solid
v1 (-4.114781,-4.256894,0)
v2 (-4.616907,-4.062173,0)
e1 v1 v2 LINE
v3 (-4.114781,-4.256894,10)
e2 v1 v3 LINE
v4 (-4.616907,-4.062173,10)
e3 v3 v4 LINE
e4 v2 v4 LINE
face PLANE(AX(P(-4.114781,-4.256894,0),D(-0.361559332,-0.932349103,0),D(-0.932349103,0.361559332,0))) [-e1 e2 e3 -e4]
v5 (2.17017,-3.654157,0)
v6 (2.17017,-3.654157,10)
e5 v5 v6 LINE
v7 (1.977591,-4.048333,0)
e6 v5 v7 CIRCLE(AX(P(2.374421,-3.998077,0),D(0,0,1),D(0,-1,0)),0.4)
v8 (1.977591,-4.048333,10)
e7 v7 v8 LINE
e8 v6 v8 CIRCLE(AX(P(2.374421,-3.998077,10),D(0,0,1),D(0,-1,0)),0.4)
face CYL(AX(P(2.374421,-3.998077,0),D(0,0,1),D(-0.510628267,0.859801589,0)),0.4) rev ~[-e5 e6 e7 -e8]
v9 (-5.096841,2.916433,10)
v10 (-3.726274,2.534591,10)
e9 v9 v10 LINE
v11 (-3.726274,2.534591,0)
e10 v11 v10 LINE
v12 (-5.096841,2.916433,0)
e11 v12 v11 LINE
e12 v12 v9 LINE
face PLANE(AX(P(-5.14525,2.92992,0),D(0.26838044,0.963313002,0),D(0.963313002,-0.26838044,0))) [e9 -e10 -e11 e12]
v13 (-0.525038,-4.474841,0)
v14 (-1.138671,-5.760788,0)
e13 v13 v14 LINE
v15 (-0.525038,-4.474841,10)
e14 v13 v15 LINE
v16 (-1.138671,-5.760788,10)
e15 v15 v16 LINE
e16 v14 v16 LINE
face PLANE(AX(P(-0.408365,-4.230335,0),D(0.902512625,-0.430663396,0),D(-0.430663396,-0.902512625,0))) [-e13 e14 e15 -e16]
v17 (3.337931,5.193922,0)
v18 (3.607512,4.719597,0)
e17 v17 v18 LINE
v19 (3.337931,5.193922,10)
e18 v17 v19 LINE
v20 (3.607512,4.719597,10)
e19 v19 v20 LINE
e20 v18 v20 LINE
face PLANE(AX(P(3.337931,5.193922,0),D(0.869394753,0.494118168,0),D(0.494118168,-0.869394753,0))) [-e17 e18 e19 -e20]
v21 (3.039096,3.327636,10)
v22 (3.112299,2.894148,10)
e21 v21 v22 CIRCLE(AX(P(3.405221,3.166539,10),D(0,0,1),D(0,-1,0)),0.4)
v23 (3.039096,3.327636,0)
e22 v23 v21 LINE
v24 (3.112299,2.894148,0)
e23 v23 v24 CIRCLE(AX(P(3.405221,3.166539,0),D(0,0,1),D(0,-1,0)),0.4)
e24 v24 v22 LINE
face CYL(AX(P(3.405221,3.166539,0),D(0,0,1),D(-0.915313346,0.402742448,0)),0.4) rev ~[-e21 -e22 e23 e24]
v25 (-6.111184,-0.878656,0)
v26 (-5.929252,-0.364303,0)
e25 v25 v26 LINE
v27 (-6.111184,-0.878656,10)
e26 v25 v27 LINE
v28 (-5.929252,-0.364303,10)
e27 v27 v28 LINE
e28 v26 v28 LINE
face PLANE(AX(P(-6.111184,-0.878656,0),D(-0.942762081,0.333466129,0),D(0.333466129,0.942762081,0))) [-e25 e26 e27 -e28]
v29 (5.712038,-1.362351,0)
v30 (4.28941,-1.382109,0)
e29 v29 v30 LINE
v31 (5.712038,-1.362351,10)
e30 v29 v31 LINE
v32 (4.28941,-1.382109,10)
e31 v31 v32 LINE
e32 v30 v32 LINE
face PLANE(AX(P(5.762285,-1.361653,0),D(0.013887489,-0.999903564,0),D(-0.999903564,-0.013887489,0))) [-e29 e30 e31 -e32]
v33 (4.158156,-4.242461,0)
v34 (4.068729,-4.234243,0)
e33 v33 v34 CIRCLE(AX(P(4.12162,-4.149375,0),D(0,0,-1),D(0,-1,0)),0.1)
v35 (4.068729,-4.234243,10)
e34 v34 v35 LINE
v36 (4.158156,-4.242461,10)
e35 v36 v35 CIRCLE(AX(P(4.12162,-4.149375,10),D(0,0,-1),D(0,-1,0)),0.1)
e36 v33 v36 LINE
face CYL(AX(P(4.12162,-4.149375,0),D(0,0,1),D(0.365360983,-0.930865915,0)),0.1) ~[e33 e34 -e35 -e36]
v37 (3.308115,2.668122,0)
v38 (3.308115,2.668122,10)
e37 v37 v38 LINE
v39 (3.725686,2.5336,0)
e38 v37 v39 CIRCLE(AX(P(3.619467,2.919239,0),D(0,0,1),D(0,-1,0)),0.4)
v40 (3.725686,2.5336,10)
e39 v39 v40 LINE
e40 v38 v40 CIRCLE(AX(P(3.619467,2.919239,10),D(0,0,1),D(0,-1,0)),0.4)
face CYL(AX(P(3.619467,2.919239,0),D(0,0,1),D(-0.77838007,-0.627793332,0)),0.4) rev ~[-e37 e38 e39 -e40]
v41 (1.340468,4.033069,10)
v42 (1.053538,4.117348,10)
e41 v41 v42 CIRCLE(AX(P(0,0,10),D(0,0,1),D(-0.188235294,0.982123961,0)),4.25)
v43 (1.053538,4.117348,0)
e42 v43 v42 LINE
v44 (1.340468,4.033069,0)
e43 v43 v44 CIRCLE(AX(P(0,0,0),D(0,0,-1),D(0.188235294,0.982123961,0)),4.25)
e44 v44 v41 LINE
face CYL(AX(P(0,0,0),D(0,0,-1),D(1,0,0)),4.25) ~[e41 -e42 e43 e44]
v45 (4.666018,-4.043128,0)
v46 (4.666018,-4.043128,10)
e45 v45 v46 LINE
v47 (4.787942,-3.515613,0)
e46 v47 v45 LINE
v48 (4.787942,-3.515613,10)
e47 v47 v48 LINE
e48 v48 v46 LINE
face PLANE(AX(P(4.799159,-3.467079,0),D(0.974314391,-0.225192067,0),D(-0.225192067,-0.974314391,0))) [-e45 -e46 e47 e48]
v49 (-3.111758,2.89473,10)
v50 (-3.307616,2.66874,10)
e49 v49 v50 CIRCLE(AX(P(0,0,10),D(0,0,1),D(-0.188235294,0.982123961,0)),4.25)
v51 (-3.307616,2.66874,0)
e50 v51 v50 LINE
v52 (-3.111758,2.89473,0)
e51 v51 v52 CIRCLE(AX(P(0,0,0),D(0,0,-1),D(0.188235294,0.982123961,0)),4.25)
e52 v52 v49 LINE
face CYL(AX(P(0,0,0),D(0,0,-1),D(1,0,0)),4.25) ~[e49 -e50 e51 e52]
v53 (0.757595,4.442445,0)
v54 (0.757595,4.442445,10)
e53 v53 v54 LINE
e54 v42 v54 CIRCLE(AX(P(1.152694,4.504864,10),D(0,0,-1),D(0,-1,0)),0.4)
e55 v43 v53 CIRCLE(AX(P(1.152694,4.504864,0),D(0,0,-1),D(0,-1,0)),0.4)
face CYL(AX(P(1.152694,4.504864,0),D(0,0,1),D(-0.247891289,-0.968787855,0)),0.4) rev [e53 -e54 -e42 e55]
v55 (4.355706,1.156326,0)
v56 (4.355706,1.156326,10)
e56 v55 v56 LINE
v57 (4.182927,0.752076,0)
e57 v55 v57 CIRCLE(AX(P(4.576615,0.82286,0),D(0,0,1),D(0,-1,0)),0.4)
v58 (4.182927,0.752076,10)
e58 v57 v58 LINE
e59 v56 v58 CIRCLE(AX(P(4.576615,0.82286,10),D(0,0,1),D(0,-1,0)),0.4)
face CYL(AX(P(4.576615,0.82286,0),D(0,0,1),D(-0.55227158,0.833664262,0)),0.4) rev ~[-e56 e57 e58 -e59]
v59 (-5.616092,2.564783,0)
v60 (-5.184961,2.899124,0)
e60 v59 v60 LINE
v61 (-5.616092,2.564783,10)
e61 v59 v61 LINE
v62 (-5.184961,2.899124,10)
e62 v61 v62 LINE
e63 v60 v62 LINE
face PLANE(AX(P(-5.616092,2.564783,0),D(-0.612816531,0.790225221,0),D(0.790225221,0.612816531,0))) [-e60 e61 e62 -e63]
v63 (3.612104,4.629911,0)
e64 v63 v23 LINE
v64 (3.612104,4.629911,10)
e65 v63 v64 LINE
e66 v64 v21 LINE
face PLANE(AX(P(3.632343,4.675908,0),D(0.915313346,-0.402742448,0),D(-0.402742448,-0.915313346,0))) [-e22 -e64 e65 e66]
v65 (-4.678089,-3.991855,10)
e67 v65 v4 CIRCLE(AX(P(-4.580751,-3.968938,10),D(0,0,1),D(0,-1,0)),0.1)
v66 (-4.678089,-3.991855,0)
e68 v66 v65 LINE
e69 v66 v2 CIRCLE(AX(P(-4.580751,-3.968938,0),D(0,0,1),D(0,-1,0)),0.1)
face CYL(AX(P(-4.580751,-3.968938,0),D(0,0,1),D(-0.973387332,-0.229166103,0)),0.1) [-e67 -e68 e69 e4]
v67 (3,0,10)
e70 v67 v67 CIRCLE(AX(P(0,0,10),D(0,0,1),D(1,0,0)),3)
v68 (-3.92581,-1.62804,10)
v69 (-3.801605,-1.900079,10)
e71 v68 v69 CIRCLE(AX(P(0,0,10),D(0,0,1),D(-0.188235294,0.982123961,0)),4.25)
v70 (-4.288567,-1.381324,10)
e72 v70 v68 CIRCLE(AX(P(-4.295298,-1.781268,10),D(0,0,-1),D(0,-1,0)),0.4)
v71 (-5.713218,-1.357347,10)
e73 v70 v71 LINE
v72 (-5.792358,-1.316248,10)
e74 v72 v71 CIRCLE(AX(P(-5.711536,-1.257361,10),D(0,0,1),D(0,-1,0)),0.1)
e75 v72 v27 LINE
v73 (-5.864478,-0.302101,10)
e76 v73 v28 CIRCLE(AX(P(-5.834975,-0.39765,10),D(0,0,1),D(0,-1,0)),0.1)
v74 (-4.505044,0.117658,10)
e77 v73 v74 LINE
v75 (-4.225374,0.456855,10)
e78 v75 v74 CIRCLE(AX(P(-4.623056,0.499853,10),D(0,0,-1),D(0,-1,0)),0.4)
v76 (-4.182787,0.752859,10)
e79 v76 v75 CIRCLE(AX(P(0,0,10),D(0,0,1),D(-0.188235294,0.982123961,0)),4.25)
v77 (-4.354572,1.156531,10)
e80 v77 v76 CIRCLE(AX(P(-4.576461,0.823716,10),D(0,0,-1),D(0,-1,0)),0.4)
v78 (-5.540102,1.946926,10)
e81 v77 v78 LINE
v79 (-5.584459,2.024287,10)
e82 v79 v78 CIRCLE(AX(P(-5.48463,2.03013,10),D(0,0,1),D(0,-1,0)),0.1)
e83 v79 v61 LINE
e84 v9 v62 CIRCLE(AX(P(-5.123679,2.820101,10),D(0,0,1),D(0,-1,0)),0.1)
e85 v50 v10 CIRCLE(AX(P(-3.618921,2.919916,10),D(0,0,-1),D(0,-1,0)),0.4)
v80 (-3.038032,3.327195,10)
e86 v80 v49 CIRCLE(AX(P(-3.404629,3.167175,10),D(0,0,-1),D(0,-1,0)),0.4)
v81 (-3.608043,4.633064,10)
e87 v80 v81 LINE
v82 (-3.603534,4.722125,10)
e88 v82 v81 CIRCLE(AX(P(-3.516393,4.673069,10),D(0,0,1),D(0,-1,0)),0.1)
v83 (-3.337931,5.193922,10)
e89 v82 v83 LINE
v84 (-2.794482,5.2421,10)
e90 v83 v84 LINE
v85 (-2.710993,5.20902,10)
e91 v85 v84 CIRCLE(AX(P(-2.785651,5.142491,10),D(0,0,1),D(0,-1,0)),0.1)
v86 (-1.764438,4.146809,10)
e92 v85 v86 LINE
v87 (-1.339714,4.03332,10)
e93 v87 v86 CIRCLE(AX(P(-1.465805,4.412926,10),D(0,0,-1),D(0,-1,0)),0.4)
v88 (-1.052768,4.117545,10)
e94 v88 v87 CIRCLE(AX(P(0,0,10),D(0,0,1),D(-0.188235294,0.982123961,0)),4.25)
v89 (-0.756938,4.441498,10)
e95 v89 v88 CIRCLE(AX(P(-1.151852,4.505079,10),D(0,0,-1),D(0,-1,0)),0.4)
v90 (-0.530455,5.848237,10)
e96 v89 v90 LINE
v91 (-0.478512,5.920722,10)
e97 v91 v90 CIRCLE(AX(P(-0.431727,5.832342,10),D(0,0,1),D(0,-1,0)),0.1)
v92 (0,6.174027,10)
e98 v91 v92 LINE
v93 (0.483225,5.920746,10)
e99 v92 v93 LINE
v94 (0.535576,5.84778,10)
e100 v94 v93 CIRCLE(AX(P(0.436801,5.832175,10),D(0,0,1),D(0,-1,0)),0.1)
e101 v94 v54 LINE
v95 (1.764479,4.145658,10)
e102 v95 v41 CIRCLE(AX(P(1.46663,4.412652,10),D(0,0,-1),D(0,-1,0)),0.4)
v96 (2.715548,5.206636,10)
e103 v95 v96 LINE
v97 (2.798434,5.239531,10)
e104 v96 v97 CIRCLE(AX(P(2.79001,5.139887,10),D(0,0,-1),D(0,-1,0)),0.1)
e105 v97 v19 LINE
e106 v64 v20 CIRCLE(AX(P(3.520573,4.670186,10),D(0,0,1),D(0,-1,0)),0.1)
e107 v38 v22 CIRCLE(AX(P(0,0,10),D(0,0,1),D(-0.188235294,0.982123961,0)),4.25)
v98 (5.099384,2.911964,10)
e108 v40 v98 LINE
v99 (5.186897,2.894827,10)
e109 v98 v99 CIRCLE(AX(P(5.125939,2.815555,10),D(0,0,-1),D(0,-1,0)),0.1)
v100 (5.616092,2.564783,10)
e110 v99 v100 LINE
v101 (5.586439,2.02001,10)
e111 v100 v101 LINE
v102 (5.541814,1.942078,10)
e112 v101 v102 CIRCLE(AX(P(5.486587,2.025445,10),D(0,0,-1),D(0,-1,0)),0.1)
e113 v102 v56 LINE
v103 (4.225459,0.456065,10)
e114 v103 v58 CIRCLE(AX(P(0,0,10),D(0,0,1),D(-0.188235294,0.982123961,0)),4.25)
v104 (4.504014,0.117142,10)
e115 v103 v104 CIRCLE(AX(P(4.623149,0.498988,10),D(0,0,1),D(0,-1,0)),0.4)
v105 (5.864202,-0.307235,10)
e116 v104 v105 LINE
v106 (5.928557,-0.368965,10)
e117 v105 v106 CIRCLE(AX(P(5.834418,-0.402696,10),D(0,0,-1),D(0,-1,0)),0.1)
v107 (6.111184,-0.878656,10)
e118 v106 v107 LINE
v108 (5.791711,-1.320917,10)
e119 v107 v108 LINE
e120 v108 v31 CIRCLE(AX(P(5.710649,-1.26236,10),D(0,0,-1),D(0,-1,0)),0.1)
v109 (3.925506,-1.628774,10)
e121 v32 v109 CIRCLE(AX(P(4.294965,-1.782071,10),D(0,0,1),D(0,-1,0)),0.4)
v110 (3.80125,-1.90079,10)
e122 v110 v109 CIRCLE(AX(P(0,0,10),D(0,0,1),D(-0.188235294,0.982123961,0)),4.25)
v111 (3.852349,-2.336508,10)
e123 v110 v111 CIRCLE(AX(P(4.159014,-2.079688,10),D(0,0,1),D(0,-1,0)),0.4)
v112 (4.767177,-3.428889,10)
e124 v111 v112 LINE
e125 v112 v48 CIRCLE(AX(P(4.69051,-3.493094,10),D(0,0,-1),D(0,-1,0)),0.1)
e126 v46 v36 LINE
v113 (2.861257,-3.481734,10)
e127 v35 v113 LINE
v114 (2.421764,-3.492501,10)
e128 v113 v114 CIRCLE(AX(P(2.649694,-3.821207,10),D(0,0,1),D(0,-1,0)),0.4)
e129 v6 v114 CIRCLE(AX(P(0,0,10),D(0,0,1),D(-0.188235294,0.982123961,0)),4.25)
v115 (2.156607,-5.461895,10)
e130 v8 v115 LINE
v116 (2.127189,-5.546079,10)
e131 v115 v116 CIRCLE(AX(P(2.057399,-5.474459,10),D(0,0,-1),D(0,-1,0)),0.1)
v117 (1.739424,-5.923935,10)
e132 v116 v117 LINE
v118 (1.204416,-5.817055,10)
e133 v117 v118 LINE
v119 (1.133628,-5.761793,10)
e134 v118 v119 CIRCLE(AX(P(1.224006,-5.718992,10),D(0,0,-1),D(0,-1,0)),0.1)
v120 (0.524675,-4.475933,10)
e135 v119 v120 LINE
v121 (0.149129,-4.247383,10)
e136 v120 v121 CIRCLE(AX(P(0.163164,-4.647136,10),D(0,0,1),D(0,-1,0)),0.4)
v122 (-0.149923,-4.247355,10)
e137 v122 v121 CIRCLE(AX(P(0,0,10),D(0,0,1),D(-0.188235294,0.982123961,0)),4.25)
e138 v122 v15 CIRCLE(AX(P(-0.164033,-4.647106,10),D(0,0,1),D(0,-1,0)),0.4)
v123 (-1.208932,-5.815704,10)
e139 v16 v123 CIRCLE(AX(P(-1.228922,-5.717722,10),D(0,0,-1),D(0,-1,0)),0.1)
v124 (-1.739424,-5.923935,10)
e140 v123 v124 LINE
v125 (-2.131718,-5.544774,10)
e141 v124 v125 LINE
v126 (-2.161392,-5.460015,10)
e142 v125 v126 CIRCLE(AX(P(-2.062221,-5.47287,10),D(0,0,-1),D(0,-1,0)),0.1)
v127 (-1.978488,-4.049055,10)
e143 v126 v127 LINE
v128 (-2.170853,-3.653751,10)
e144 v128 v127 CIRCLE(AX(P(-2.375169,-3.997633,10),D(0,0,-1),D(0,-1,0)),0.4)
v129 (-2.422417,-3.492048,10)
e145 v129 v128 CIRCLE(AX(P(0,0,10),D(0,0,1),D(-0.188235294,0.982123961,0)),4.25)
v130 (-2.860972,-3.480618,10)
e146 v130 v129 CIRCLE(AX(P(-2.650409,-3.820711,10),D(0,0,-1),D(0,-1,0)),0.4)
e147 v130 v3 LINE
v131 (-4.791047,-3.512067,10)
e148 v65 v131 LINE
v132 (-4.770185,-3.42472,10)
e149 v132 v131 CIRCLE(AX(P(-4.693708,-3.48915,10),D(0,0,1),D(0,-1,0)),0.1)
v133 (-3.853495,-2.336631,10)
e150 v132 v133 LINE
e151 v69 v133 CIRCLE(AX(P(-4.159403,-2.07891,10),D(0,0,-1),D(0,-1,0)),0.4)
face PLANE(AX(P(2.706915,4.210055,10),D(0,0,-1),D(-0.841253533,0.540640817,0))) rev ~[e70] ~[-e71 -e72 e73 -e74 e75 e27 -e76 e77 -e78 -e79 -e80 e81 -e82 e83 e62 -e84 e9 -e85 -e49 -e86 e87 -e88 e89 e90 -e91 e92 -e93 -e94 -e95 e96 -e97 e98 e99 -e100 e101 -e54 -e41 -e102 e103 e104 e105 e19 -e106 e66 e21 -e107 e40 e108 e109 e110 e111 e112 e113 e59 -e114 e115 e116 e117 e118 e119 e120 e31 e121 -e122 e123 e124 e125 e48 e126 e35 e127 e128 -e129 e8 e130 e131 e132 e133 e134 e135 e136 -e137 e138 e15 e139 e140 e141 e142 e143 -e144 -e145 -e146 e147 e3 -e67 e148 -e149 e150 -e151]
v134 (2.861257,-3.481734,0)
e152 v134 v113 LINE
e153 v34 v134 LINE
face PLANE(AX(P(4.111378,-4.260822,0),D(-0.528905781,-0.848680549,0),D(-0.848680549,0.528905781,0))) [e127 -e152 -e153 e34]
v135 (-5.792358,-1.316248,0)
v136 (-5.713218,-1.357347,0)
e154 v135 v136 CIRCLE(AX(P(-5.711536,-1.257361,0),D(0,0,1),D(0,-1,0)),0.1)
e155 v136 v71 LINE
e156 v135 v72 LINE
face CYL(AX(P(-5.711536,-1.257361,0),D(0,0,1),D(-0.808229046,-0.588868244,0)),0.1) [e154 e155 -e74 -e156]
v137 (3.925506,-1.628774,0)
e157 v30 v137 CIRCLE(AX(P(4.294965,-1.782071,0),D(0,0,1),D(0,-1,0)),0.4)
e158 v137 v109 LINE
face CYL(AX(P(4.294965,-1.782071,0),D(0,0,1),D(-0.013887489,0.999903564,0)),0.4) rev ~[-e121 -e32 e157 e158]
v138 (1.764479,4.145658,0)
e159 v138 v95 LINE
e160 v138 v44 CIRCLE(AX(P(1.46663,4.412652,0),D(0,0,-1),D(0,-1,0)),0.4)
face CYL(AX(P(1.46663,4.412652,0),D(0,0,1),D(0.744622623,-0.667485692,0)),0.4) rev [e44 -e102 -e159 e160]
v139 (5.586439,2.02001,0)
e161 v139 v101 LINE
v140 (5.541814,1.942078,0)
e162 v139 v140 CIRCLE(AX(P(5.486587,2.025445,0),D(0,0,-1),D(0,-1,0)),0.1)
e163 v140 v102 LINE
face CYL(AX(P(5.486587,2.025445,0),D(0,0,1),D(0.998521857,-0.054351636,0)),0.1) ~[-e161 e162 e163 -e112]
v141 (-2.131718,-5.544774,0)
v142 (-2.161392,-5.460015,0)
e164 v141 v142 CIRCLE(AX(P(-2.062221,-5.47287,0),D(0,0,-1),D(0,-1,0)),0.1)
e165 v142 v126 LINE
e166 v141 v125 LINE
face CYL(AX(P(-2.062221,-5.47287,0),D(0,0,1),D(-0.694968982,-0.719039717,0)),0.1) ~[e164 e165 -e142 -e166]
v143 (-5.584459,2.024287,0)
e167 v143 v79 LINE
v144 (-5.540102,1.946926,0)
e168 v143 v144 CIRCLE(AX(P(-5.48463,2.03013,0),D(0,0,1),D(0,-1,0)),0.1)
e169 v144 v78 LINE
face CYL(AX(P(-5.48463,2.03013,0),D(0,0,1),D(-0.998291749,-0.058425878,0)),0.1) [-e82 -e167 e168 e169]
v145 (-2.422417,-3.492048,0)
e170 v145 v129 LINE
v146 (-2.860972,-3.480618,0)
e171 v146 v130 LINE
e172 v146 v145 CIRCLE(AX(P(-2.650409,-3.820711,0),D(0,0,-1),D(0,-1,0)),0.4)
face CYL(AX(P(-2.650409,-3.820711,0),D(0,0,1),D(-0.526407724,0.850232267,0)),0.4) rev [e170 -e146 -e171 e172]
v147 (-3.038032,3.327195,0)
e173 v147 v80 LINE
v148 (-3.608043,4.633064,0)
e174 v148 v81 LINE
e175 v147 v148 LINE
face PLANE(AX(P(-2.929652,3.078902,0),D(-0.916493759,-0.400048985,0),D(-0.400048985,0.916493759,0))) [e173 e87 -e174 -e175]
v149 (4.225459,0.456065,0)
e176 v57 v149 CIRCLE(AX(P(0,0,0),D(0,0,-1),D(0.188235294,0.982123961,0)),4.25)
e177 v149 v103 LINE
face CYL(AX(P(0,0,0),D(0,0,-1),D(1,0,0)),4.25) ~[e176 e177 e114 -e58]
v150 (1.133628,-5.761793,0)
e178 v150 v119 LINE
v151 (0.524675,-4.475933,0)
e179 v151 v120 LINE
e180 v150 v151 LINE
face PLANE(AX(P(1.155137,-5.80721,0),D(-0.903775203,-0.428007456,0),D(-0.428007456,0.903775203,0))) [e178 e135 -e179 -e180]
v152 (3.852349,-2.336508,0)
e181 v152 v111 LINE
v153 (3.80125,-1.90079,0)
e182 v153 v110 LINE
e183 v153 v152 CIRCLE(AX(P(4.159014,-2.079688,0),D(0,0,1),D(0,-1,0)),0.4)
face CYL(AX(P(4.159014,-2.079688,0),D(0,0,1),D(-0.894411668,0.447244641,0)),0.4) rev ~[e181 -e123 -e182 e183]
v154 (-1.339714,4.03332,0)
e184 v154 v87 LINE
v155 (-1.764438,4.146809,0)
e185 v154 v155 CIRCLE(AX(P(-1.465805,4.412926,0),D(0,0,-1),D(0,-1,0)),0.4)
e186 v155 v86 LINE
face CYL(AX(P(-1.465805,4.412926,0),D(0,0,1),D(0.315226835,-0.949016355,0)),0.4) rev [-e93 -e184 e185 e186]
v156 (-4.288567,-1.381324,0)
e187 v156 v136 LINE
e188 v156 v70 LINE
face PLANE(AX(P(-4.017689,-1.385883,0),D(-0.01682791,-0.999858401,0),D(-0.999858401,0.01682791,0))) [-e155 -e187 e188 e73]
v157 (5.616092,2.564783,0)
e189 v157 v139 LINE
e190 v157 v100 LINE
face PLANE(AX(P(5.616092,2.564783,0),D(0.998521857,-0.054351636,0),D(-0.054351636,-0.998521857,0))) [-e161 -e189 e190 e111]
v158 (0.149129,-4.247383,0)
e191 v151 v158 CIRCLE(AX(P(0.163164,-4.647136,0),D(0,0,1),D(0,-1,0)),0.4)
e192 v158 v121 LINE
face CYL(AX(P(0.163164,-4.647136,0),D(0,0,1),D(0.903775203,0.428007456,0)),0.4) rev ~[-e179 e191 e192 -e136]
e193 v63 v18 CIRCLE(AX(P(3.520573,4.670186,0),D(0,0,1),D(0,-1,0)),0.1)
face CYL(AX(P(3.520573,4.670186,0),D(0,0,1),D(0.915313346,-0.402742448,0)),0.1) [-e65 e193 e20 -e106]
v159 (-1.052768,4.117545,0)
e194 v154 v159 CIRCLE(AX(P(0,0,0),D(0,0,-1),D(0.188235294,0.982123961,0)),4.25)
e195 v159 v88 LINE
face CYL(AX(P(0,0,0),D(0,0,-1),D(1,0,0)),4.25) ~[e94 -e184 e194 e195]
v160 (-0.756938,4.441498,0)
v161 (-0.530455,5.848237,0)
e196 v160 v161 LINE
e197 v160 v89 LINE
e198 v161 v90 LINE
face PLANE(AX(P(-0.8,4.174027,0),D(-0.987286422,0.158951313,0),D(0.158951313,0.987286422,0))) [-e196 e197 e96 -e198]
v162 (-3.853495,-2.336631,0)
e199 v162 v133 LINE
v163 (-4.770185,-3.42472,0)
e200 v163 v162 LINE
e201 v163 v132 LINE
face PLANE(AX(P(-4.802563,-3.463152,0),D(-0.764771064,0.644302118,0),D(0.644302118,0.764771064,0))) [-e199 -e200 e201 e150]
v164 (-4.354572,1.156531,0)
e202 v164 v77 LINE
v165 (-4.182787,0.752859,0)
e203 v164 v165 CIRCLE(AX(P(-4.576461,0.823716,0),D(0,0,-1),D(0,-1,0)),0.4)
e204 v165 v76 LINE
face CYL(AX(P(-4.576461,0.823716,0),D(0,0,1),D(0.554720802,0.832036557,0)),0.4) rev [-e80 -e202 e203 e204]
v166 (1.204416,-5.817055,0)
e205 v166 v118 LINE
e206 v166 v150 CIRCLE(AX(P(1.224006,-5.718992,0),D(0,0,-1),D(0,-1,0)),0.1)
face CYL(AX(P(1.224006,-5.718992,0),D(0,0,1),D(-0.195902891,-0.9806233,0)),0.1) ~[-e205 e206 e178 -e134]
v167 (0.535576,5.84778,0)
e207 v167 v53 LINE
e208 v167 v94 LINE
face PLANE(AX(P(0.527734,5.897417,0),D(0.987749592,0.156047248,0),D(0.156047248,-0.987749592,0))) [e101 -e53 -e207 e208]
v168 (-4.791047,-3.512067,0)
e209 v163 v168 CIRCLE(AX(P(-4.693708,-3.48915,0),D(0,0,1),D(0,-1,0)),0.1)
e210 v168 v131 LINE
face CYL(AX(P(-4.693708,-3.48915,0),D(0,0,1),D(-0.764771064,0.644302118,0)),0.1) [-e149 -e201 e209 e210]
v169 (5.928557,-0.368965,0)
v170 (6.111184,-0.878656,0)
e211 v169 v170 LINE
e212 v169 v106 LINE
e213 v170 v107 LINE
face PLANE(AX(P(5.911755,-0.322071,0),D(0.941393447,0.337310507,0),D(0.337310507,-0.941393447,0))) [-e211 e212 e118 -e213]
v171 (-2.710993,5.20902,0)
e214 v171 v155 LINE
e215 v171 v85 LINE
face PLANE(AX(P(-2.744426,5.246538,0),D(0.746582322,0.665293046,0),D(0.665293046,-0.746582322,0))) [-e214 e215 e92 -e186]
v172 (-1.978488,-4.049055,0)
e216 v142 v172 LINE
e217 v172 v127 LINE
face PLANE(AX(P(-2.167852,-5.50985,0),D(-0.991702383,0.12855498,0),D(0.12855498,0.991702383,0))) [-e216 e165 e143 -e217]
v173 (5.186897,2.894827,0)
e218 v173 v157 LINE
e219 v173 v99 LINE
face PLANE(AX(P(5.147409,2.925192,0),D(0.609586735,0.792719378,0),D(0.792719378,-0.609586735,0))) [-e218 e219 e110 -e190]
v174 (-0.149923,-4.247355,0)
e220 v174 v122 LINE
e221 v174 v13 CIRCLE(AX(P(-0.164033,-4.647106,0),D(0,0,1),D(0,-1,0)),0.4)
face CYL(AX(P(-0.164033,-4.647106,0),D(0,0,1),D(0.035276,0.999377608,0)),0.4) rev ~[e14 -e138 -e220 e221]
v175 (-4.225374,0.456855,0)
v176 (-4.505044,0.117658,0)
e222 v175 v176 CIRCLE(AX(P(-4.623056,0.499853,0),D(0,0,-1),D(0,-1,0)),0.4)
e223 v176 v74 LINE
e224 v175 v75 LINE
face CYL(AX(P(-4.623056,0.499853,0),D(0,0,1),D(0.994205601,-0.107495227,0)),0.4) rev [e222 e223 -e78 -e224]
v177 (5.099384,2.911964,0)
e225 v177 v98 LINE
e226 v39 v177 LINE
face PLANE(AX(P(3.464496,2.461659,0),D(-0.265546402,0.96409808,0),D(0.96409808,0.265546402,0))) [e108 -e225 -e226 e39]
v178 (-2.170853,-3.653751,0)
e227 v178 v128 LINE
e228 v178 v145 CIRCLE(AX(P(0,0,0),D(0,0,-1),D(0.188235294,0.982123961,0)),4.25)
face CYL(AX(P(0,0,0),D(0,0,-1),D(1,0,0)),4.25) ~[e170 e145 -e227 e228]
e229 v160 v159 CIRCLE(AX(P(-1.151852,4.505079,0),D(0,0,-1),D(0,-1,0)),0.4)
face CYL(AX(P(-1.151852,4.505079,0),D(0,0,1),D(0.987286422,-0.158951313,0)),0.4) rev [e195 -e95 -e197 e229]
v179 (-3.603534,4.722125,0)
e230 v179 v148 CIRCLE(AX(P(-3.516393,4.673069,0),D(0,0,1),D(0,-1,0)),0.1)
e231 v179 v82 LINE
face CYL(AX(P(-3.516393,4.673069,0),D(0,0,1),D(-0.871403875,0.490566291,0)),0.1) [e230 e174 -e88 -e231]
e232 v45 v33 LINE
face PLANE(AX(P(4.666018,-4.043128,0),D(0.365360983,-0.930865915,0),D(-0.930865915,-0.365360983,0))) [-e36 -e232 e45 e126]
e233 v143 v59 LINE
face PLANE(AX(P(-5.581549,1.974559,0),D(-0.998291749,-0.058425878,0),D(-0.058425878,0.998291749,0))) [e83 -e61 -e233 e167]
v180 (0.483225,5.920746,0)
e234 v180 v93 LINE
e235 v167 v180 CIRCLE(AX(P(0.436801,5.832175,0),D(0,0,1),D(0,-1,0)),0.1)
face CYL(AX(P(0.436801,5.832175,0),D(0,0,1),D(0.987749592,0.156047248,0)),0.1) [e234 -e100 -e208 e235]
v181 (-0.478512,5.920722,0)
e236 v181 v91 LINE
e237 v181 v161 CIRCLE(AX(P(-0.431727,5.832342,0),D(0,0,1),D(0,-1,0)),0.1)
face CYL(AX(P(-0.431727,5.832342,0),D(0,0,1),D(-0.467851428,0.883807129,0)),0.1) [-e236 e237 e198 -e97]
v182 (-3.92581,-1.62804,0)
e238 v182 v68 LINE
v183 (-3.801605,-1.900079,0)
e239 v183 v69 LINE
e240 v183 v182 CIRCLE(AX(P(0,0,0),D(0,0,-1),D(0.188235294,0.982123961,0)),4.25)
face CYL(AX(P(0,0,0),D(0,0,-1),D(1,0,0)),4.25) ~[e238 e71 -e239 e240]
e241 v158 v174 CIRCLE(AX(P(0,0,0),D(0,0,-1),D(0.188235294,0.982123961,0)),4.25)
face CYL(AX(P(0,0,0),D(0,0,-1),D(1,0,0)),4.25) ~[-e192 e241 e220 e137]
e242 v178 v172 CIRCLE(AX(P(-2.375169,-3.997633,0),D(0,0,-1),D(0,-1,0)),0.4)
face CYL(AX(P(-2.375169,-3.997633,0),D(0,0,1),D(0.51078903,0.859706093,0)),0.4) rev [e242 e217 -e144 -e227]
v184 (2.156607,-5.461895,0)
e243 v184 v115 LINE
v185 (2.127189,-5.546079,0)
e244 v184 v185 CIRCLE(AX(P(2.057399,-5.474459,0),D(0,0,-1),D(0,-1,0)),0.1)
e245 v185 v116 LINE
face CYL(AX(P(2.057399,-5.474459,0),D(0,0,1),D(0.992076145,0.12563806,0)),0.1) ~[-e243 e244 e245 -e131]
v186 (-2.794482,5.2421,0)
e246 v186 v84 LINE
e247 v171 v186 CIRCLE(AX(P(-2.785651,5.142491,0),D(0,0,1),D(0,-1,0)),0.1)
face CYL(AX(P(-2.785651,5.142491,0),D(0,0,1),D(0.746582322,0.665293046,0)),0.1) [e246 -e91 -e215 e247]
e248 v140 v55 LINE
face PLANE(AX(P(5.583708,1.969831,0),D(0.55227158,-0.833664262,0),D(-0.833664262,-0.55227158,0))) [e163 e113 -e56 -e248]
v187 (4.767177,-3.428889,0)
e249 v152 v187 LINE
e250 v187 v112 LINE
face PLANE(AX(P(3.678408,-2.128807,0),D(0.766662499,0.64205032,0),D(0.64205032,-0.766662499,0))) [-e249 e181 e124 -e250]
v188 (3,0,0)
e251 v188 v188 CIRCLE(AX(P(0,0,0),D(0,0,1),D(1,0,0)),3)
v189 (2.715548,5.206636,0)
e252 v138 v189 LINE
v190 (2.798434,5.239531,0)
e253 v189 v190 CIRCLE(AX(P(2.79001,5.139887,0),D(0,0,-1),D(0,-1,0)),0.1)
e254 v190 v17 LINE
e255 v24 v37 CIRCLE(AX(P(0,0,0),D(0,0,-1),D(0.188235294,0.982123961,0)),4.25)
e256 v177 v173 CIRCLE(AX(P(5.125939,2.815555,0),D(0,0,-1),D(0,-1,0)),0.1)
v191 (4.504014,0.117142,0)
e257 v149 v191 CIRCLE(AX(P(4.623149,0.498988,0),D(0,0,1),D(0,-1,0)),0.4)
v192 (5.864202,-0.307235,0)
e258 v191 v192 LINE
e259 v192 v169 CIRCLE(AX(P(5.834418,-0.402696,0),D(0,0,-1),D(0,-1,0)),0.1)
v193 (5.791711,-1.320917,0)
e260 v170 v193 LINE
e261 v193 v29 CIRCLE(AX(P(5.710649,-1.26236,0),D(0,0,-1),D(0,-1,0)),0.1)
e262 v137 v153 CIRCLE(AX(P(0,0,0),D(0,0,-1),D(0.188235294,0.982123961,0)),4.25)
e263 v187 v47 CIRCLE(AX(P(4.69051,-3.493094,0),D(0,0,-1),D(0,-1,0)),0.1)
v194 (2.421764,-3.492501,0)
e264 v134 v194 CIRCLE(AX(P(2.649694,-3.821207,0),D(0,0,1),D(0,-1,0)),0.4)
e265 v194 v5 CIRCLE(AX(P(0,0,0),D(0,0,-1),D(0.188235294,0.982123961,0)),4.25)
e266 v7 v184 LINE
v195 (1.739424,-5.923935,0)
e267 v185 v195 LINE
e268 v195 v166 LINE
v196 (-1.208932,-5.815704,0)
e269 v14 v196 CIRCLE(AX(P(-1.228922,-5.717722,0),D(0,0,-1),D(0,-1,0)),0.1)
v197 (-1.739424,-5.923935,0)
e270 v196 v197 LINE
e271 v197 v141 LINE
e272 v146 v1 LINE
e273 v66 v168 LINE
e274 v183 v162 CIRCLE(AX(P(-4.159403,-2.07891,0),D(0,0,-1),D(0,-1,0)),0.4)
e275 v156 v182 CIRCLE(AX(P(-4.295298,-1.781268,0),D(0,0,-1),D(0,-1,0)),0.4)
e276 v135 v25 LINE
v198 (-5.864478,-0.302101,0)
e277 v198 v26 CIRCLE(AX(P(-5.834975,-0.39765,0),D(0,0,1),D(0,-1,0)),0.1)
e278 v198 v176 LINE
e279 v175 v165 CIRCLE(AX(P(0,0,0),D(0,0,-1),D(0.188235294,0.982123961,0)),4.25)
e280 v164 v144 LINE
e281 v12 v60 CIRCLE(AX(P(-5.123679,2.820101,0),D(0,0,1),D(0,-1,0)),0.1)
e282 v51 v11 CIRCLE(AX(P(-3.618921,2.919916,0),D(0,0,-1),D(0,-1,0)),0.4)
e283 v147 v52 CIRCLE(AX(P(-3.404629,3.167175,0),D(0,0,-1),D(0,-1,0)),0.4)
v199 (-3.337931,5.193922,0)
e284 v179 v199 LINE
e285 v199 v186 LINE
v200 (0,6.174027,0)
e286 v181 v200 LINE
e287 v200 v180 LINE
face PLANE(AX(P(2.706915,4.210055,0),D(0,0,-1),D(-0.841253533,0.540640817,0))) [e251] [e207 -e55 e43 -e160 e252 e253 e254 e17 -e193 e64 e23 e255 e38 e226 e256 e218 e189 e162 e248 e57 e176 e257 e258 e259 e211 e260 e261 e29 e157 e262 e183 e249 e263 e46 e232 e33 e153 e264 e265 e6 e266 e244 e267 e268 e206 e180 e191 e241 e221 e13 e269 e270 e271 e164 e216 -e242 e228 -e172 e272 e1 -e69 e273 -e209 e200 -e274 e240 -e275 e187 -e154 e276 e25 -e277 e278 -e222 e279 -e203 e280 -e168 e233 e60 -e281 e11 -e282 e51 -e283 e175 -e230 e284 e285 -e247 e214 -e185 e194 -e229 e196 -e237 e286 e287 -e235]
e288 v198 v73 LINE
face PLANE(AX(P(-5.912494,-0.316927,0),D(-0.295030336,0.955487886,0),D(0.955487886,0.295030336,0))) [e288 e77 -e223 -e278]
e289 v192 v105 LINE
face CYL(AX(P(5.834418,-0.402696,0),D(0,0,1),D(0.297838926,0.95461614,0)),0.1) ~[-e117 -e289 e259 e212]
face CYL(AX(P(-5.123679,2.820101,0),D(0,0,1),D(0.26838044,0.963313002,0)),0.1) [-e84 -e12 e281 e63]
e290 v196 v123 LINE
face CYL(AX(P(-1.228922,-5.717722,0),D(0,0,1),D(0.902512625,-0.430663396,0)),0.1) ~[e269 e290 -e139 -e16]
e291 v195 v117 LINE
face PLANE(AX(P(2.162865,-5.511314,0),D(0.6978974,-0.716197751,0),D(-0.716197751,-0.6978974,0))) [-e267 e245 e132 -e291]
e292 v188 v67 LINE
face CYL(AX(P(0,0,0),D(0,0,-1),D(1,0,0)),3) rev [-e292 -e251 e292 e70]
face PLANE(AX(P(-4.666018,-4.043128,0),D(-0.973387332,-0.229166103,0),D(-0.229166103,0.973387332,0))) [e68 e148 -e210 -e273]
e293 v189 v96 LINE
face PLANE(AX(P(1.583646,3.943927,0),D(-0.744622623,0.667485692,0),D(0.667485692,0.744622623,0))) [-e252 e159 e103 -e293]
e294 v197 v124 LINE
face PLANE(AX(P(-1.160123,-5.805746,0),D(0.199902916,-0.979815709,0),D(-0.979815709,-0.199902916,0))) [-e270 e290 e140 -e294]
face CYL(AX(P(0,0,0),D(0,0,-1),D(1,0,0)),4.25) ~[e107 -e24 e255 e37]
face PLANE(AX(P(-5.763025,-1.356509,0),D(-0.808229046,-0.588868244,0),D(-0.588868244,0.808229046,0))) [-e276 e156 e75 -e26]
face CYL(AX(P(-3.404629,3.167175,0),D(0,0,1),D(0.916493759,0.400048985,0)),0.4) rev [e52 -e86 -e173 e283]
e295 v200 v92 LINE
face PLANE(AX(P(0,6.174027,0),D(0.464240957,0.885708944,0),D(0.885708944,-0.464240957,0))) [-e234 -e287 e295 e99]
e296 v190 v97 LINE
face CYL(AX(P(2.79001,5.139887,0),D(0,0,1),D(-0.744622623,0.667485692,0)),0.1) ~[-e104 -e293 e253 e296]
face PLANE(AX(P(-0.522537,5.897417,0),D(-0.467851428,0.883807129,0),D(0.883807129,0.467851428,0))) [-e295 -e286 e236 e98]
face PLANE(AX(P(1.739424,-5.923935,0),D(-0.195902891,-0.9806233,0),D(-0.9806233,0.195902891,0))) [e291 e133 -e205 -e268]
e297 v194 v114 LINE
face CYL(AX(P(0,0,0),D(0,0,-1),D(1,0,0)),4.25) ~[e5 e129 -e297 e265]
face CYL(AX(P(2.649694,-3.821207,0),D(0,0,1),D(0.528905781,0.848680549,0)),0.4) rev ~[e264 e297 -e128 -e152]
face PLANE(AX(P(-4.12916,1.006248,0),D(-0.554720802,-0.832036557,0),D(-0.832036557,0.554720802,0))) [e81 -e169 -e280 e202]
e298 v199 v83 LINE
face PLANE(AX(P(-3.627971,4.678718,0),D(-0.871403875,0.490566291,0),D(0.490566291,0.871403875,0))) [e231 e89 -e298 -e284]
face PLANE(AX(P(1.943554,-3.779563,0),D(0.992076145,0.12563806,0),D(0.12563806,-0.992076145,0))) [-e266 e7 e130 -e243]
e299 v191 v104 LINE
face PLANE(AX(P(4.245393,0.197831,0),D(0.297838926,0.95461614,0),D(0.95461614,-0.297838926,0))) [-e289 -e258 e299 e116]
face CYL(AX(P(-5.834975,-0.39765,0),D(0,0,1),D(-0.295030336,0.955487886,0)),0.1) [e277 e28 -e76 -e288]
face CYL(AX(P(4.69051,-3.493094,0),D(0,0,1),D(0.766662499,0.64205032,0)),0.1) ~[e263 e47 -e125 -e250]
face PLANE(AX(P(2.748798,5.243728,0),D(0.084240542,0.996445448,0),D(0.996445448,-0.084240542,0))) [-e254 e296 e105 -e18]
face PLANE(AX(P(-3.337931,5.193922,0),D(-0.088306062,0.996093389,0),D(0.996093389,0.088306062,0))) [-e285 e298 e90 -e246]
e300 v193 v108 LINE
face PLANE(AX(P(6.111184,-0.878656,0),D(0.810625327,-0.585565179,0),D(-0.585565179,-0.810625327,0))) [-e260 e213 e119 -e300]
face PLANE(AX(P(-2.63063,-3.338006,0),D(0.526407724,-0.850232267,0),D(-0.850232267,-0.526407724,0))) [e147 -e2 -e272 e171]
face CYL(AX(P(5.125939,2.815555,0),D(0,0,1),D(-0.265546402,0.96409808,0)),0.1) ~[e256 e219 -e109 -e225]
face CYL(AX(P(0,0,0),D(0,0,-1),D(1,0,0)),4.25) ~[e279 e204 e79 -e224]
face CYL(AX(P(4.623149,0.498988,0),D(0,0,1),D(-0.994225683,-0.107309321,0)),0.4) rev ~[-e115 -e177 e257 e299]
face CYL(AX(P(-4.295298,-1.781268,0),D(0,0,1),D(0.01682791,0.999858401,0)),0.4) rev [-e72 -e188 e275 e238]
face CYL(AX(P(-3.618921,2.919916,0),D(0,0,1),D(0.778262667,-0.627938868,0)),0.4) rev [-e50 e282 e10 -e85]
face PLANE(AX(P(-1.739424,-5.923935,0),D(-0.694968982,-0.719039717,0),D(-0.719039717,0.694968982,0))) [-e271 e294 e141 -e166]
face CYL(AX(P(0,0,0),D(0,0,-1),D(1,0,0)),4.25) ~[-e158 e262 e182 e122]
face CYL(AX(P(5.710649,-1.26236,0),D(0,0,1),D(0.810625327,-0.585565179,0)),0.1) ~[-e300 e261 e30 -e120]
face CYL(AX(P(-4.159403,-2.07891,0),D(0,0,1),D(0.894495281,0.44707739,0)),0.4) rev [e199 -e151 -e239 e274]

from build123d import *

# Parameters (mm, degrees)
SKETCH1_R           = 4.25
BOSS_EXTRUDE1_DEPTH = 10
BOSS_EXTRUDE2_DEPTH = 10
CIRPATTERN1_COUNT   = 11
SKETCH5_R           = 3
CUT_EXTRUDE1_DEPTH  = 10
FILLET1_R           = 0.4
FILLET2_R           = 0.1


with BuildPart() as part:
    # Sketch1 → Boss-Extrude1 (new body)
    with BuildSketch(Plane.XY):
        Circle(SKETCH1_R)
    extrude(amount=BOSS_EXTRUDE1_DEPTH)

    # Sketch3 → Boss-Extrude2 (add)
    with BuildSketch(Plane.XY):
        Polygon((0, 6.174026833), (0.527734359, 5.897416886), (0.8, 4.174026833), (-0.8, 4.174026833), (-0.522537345, 5.897416886), align=None)
    boss_extrude2 = extrude(amount=BOSS_EXTRUDE2_DEPTH)

    # CirPattern1: Boss-Extrude2 ×11 about axis
    cirpattern1_axis = Axis((0, 0, 0), (0, 0, 1))
    for i in range(1, CIRPATTERN1_COUNT):
        add(boss_extrude2.rotate(cirpattern1_axis, i * 360 / CIRPATTERN1_COUNT))

    # Sketch5 → Cut-Extrude1 (cut)
    with BuildSketch(Plane.XY):
        Circle(SKETCH5_R)
    extrude(amount=CUT_EXTRUDE1_DEPTH, mode=Mode.SUBTRACT)

    # Fillet1
    fillet1_edges = [part.edges().sort_by_distance(p)[0] for p in [
        (1.943553631, -3.779563372, 5),
        (0.408364873, -4.230335463, 5),
        (3.678407589, -2.128806616, 5),
        (2.630630415, -3.338005935, 5),
        (4.245393129, 0.1978312, 5),
        (4.017689387, -1.385883107, 5),
        (3.464496346, 2.461659007, 5),
        (4.129160367, 1.006247815, 5),
        (1.583646453, 3.943927473, 5),
        (2.929652105, 3.078902165, 5),
        (-2.929652105, 3.078902165, 5),
        (-1.583646453, 3.943927473, 5),
        (-4.129160367, 1.006247815, 5),
        (-3.464496346, 2.461659007, 5),
        (-4.017689387, -1.385883107, 5),
        (-4.245393129, 0.1978312, 5),
        (-2.630630415, -3.338005935, 5),
        (-3.678407589, -2.128806616, 5),
        (-0.408364873, -4.230335463, 5),
        (-1.943553631, -3.779563372, 5),
        (-0.8, 4.174026833, 5),
        (0.8, 4.174026833, 5),
    ]]
    fillet(fillet1_edges, radius=FILLET1_R)

    # Fillet2
    fillet2_edges = [part.edges().sort_by_distance(p)[0] for p in [
        (0.527734359, 5.897416886, 5),
        (2.162865249, -5.511314283, 5),
        (1.155136929, -5.807210015, 5),
        (4.799159491, -3.467079374, 5),
        (4.111377792, -4.260821767, 5),
        (5.911754503, -0.322071262, 5),
        (5.762285256, -1.361652714, 5),
        (5.147409232, 2.9251922, 5),
        (5.583707865, 1.969831455, 5),
        (2.748797899, 5.243727807, 5),
        (3.63234268, 4.675908055, 5),
        (-3.627970674, 4.678717773, 5),
        (-2.744425893, 5.246537525, 5),
        (-5.581548948, 1.974558825, 5),
        (-5.145250314, 2.92991957, 5),
        (-5.763024868, -1.356508599, 5),
        (-5.912494116, -0.316927147, 5),
        (-4.666018151, -4.043127743, 5),
        (-4.802562811, -3.463151734, 5),
        (-1.160123427, -5.805745847, 5),
        (-2.167851747, -5.509850115, 5),
        (-0.522537345, 5.897416886, 5),
    ]]
    fillet(fillet2_edges, radius=FILLET2_R)


solid = part.part
